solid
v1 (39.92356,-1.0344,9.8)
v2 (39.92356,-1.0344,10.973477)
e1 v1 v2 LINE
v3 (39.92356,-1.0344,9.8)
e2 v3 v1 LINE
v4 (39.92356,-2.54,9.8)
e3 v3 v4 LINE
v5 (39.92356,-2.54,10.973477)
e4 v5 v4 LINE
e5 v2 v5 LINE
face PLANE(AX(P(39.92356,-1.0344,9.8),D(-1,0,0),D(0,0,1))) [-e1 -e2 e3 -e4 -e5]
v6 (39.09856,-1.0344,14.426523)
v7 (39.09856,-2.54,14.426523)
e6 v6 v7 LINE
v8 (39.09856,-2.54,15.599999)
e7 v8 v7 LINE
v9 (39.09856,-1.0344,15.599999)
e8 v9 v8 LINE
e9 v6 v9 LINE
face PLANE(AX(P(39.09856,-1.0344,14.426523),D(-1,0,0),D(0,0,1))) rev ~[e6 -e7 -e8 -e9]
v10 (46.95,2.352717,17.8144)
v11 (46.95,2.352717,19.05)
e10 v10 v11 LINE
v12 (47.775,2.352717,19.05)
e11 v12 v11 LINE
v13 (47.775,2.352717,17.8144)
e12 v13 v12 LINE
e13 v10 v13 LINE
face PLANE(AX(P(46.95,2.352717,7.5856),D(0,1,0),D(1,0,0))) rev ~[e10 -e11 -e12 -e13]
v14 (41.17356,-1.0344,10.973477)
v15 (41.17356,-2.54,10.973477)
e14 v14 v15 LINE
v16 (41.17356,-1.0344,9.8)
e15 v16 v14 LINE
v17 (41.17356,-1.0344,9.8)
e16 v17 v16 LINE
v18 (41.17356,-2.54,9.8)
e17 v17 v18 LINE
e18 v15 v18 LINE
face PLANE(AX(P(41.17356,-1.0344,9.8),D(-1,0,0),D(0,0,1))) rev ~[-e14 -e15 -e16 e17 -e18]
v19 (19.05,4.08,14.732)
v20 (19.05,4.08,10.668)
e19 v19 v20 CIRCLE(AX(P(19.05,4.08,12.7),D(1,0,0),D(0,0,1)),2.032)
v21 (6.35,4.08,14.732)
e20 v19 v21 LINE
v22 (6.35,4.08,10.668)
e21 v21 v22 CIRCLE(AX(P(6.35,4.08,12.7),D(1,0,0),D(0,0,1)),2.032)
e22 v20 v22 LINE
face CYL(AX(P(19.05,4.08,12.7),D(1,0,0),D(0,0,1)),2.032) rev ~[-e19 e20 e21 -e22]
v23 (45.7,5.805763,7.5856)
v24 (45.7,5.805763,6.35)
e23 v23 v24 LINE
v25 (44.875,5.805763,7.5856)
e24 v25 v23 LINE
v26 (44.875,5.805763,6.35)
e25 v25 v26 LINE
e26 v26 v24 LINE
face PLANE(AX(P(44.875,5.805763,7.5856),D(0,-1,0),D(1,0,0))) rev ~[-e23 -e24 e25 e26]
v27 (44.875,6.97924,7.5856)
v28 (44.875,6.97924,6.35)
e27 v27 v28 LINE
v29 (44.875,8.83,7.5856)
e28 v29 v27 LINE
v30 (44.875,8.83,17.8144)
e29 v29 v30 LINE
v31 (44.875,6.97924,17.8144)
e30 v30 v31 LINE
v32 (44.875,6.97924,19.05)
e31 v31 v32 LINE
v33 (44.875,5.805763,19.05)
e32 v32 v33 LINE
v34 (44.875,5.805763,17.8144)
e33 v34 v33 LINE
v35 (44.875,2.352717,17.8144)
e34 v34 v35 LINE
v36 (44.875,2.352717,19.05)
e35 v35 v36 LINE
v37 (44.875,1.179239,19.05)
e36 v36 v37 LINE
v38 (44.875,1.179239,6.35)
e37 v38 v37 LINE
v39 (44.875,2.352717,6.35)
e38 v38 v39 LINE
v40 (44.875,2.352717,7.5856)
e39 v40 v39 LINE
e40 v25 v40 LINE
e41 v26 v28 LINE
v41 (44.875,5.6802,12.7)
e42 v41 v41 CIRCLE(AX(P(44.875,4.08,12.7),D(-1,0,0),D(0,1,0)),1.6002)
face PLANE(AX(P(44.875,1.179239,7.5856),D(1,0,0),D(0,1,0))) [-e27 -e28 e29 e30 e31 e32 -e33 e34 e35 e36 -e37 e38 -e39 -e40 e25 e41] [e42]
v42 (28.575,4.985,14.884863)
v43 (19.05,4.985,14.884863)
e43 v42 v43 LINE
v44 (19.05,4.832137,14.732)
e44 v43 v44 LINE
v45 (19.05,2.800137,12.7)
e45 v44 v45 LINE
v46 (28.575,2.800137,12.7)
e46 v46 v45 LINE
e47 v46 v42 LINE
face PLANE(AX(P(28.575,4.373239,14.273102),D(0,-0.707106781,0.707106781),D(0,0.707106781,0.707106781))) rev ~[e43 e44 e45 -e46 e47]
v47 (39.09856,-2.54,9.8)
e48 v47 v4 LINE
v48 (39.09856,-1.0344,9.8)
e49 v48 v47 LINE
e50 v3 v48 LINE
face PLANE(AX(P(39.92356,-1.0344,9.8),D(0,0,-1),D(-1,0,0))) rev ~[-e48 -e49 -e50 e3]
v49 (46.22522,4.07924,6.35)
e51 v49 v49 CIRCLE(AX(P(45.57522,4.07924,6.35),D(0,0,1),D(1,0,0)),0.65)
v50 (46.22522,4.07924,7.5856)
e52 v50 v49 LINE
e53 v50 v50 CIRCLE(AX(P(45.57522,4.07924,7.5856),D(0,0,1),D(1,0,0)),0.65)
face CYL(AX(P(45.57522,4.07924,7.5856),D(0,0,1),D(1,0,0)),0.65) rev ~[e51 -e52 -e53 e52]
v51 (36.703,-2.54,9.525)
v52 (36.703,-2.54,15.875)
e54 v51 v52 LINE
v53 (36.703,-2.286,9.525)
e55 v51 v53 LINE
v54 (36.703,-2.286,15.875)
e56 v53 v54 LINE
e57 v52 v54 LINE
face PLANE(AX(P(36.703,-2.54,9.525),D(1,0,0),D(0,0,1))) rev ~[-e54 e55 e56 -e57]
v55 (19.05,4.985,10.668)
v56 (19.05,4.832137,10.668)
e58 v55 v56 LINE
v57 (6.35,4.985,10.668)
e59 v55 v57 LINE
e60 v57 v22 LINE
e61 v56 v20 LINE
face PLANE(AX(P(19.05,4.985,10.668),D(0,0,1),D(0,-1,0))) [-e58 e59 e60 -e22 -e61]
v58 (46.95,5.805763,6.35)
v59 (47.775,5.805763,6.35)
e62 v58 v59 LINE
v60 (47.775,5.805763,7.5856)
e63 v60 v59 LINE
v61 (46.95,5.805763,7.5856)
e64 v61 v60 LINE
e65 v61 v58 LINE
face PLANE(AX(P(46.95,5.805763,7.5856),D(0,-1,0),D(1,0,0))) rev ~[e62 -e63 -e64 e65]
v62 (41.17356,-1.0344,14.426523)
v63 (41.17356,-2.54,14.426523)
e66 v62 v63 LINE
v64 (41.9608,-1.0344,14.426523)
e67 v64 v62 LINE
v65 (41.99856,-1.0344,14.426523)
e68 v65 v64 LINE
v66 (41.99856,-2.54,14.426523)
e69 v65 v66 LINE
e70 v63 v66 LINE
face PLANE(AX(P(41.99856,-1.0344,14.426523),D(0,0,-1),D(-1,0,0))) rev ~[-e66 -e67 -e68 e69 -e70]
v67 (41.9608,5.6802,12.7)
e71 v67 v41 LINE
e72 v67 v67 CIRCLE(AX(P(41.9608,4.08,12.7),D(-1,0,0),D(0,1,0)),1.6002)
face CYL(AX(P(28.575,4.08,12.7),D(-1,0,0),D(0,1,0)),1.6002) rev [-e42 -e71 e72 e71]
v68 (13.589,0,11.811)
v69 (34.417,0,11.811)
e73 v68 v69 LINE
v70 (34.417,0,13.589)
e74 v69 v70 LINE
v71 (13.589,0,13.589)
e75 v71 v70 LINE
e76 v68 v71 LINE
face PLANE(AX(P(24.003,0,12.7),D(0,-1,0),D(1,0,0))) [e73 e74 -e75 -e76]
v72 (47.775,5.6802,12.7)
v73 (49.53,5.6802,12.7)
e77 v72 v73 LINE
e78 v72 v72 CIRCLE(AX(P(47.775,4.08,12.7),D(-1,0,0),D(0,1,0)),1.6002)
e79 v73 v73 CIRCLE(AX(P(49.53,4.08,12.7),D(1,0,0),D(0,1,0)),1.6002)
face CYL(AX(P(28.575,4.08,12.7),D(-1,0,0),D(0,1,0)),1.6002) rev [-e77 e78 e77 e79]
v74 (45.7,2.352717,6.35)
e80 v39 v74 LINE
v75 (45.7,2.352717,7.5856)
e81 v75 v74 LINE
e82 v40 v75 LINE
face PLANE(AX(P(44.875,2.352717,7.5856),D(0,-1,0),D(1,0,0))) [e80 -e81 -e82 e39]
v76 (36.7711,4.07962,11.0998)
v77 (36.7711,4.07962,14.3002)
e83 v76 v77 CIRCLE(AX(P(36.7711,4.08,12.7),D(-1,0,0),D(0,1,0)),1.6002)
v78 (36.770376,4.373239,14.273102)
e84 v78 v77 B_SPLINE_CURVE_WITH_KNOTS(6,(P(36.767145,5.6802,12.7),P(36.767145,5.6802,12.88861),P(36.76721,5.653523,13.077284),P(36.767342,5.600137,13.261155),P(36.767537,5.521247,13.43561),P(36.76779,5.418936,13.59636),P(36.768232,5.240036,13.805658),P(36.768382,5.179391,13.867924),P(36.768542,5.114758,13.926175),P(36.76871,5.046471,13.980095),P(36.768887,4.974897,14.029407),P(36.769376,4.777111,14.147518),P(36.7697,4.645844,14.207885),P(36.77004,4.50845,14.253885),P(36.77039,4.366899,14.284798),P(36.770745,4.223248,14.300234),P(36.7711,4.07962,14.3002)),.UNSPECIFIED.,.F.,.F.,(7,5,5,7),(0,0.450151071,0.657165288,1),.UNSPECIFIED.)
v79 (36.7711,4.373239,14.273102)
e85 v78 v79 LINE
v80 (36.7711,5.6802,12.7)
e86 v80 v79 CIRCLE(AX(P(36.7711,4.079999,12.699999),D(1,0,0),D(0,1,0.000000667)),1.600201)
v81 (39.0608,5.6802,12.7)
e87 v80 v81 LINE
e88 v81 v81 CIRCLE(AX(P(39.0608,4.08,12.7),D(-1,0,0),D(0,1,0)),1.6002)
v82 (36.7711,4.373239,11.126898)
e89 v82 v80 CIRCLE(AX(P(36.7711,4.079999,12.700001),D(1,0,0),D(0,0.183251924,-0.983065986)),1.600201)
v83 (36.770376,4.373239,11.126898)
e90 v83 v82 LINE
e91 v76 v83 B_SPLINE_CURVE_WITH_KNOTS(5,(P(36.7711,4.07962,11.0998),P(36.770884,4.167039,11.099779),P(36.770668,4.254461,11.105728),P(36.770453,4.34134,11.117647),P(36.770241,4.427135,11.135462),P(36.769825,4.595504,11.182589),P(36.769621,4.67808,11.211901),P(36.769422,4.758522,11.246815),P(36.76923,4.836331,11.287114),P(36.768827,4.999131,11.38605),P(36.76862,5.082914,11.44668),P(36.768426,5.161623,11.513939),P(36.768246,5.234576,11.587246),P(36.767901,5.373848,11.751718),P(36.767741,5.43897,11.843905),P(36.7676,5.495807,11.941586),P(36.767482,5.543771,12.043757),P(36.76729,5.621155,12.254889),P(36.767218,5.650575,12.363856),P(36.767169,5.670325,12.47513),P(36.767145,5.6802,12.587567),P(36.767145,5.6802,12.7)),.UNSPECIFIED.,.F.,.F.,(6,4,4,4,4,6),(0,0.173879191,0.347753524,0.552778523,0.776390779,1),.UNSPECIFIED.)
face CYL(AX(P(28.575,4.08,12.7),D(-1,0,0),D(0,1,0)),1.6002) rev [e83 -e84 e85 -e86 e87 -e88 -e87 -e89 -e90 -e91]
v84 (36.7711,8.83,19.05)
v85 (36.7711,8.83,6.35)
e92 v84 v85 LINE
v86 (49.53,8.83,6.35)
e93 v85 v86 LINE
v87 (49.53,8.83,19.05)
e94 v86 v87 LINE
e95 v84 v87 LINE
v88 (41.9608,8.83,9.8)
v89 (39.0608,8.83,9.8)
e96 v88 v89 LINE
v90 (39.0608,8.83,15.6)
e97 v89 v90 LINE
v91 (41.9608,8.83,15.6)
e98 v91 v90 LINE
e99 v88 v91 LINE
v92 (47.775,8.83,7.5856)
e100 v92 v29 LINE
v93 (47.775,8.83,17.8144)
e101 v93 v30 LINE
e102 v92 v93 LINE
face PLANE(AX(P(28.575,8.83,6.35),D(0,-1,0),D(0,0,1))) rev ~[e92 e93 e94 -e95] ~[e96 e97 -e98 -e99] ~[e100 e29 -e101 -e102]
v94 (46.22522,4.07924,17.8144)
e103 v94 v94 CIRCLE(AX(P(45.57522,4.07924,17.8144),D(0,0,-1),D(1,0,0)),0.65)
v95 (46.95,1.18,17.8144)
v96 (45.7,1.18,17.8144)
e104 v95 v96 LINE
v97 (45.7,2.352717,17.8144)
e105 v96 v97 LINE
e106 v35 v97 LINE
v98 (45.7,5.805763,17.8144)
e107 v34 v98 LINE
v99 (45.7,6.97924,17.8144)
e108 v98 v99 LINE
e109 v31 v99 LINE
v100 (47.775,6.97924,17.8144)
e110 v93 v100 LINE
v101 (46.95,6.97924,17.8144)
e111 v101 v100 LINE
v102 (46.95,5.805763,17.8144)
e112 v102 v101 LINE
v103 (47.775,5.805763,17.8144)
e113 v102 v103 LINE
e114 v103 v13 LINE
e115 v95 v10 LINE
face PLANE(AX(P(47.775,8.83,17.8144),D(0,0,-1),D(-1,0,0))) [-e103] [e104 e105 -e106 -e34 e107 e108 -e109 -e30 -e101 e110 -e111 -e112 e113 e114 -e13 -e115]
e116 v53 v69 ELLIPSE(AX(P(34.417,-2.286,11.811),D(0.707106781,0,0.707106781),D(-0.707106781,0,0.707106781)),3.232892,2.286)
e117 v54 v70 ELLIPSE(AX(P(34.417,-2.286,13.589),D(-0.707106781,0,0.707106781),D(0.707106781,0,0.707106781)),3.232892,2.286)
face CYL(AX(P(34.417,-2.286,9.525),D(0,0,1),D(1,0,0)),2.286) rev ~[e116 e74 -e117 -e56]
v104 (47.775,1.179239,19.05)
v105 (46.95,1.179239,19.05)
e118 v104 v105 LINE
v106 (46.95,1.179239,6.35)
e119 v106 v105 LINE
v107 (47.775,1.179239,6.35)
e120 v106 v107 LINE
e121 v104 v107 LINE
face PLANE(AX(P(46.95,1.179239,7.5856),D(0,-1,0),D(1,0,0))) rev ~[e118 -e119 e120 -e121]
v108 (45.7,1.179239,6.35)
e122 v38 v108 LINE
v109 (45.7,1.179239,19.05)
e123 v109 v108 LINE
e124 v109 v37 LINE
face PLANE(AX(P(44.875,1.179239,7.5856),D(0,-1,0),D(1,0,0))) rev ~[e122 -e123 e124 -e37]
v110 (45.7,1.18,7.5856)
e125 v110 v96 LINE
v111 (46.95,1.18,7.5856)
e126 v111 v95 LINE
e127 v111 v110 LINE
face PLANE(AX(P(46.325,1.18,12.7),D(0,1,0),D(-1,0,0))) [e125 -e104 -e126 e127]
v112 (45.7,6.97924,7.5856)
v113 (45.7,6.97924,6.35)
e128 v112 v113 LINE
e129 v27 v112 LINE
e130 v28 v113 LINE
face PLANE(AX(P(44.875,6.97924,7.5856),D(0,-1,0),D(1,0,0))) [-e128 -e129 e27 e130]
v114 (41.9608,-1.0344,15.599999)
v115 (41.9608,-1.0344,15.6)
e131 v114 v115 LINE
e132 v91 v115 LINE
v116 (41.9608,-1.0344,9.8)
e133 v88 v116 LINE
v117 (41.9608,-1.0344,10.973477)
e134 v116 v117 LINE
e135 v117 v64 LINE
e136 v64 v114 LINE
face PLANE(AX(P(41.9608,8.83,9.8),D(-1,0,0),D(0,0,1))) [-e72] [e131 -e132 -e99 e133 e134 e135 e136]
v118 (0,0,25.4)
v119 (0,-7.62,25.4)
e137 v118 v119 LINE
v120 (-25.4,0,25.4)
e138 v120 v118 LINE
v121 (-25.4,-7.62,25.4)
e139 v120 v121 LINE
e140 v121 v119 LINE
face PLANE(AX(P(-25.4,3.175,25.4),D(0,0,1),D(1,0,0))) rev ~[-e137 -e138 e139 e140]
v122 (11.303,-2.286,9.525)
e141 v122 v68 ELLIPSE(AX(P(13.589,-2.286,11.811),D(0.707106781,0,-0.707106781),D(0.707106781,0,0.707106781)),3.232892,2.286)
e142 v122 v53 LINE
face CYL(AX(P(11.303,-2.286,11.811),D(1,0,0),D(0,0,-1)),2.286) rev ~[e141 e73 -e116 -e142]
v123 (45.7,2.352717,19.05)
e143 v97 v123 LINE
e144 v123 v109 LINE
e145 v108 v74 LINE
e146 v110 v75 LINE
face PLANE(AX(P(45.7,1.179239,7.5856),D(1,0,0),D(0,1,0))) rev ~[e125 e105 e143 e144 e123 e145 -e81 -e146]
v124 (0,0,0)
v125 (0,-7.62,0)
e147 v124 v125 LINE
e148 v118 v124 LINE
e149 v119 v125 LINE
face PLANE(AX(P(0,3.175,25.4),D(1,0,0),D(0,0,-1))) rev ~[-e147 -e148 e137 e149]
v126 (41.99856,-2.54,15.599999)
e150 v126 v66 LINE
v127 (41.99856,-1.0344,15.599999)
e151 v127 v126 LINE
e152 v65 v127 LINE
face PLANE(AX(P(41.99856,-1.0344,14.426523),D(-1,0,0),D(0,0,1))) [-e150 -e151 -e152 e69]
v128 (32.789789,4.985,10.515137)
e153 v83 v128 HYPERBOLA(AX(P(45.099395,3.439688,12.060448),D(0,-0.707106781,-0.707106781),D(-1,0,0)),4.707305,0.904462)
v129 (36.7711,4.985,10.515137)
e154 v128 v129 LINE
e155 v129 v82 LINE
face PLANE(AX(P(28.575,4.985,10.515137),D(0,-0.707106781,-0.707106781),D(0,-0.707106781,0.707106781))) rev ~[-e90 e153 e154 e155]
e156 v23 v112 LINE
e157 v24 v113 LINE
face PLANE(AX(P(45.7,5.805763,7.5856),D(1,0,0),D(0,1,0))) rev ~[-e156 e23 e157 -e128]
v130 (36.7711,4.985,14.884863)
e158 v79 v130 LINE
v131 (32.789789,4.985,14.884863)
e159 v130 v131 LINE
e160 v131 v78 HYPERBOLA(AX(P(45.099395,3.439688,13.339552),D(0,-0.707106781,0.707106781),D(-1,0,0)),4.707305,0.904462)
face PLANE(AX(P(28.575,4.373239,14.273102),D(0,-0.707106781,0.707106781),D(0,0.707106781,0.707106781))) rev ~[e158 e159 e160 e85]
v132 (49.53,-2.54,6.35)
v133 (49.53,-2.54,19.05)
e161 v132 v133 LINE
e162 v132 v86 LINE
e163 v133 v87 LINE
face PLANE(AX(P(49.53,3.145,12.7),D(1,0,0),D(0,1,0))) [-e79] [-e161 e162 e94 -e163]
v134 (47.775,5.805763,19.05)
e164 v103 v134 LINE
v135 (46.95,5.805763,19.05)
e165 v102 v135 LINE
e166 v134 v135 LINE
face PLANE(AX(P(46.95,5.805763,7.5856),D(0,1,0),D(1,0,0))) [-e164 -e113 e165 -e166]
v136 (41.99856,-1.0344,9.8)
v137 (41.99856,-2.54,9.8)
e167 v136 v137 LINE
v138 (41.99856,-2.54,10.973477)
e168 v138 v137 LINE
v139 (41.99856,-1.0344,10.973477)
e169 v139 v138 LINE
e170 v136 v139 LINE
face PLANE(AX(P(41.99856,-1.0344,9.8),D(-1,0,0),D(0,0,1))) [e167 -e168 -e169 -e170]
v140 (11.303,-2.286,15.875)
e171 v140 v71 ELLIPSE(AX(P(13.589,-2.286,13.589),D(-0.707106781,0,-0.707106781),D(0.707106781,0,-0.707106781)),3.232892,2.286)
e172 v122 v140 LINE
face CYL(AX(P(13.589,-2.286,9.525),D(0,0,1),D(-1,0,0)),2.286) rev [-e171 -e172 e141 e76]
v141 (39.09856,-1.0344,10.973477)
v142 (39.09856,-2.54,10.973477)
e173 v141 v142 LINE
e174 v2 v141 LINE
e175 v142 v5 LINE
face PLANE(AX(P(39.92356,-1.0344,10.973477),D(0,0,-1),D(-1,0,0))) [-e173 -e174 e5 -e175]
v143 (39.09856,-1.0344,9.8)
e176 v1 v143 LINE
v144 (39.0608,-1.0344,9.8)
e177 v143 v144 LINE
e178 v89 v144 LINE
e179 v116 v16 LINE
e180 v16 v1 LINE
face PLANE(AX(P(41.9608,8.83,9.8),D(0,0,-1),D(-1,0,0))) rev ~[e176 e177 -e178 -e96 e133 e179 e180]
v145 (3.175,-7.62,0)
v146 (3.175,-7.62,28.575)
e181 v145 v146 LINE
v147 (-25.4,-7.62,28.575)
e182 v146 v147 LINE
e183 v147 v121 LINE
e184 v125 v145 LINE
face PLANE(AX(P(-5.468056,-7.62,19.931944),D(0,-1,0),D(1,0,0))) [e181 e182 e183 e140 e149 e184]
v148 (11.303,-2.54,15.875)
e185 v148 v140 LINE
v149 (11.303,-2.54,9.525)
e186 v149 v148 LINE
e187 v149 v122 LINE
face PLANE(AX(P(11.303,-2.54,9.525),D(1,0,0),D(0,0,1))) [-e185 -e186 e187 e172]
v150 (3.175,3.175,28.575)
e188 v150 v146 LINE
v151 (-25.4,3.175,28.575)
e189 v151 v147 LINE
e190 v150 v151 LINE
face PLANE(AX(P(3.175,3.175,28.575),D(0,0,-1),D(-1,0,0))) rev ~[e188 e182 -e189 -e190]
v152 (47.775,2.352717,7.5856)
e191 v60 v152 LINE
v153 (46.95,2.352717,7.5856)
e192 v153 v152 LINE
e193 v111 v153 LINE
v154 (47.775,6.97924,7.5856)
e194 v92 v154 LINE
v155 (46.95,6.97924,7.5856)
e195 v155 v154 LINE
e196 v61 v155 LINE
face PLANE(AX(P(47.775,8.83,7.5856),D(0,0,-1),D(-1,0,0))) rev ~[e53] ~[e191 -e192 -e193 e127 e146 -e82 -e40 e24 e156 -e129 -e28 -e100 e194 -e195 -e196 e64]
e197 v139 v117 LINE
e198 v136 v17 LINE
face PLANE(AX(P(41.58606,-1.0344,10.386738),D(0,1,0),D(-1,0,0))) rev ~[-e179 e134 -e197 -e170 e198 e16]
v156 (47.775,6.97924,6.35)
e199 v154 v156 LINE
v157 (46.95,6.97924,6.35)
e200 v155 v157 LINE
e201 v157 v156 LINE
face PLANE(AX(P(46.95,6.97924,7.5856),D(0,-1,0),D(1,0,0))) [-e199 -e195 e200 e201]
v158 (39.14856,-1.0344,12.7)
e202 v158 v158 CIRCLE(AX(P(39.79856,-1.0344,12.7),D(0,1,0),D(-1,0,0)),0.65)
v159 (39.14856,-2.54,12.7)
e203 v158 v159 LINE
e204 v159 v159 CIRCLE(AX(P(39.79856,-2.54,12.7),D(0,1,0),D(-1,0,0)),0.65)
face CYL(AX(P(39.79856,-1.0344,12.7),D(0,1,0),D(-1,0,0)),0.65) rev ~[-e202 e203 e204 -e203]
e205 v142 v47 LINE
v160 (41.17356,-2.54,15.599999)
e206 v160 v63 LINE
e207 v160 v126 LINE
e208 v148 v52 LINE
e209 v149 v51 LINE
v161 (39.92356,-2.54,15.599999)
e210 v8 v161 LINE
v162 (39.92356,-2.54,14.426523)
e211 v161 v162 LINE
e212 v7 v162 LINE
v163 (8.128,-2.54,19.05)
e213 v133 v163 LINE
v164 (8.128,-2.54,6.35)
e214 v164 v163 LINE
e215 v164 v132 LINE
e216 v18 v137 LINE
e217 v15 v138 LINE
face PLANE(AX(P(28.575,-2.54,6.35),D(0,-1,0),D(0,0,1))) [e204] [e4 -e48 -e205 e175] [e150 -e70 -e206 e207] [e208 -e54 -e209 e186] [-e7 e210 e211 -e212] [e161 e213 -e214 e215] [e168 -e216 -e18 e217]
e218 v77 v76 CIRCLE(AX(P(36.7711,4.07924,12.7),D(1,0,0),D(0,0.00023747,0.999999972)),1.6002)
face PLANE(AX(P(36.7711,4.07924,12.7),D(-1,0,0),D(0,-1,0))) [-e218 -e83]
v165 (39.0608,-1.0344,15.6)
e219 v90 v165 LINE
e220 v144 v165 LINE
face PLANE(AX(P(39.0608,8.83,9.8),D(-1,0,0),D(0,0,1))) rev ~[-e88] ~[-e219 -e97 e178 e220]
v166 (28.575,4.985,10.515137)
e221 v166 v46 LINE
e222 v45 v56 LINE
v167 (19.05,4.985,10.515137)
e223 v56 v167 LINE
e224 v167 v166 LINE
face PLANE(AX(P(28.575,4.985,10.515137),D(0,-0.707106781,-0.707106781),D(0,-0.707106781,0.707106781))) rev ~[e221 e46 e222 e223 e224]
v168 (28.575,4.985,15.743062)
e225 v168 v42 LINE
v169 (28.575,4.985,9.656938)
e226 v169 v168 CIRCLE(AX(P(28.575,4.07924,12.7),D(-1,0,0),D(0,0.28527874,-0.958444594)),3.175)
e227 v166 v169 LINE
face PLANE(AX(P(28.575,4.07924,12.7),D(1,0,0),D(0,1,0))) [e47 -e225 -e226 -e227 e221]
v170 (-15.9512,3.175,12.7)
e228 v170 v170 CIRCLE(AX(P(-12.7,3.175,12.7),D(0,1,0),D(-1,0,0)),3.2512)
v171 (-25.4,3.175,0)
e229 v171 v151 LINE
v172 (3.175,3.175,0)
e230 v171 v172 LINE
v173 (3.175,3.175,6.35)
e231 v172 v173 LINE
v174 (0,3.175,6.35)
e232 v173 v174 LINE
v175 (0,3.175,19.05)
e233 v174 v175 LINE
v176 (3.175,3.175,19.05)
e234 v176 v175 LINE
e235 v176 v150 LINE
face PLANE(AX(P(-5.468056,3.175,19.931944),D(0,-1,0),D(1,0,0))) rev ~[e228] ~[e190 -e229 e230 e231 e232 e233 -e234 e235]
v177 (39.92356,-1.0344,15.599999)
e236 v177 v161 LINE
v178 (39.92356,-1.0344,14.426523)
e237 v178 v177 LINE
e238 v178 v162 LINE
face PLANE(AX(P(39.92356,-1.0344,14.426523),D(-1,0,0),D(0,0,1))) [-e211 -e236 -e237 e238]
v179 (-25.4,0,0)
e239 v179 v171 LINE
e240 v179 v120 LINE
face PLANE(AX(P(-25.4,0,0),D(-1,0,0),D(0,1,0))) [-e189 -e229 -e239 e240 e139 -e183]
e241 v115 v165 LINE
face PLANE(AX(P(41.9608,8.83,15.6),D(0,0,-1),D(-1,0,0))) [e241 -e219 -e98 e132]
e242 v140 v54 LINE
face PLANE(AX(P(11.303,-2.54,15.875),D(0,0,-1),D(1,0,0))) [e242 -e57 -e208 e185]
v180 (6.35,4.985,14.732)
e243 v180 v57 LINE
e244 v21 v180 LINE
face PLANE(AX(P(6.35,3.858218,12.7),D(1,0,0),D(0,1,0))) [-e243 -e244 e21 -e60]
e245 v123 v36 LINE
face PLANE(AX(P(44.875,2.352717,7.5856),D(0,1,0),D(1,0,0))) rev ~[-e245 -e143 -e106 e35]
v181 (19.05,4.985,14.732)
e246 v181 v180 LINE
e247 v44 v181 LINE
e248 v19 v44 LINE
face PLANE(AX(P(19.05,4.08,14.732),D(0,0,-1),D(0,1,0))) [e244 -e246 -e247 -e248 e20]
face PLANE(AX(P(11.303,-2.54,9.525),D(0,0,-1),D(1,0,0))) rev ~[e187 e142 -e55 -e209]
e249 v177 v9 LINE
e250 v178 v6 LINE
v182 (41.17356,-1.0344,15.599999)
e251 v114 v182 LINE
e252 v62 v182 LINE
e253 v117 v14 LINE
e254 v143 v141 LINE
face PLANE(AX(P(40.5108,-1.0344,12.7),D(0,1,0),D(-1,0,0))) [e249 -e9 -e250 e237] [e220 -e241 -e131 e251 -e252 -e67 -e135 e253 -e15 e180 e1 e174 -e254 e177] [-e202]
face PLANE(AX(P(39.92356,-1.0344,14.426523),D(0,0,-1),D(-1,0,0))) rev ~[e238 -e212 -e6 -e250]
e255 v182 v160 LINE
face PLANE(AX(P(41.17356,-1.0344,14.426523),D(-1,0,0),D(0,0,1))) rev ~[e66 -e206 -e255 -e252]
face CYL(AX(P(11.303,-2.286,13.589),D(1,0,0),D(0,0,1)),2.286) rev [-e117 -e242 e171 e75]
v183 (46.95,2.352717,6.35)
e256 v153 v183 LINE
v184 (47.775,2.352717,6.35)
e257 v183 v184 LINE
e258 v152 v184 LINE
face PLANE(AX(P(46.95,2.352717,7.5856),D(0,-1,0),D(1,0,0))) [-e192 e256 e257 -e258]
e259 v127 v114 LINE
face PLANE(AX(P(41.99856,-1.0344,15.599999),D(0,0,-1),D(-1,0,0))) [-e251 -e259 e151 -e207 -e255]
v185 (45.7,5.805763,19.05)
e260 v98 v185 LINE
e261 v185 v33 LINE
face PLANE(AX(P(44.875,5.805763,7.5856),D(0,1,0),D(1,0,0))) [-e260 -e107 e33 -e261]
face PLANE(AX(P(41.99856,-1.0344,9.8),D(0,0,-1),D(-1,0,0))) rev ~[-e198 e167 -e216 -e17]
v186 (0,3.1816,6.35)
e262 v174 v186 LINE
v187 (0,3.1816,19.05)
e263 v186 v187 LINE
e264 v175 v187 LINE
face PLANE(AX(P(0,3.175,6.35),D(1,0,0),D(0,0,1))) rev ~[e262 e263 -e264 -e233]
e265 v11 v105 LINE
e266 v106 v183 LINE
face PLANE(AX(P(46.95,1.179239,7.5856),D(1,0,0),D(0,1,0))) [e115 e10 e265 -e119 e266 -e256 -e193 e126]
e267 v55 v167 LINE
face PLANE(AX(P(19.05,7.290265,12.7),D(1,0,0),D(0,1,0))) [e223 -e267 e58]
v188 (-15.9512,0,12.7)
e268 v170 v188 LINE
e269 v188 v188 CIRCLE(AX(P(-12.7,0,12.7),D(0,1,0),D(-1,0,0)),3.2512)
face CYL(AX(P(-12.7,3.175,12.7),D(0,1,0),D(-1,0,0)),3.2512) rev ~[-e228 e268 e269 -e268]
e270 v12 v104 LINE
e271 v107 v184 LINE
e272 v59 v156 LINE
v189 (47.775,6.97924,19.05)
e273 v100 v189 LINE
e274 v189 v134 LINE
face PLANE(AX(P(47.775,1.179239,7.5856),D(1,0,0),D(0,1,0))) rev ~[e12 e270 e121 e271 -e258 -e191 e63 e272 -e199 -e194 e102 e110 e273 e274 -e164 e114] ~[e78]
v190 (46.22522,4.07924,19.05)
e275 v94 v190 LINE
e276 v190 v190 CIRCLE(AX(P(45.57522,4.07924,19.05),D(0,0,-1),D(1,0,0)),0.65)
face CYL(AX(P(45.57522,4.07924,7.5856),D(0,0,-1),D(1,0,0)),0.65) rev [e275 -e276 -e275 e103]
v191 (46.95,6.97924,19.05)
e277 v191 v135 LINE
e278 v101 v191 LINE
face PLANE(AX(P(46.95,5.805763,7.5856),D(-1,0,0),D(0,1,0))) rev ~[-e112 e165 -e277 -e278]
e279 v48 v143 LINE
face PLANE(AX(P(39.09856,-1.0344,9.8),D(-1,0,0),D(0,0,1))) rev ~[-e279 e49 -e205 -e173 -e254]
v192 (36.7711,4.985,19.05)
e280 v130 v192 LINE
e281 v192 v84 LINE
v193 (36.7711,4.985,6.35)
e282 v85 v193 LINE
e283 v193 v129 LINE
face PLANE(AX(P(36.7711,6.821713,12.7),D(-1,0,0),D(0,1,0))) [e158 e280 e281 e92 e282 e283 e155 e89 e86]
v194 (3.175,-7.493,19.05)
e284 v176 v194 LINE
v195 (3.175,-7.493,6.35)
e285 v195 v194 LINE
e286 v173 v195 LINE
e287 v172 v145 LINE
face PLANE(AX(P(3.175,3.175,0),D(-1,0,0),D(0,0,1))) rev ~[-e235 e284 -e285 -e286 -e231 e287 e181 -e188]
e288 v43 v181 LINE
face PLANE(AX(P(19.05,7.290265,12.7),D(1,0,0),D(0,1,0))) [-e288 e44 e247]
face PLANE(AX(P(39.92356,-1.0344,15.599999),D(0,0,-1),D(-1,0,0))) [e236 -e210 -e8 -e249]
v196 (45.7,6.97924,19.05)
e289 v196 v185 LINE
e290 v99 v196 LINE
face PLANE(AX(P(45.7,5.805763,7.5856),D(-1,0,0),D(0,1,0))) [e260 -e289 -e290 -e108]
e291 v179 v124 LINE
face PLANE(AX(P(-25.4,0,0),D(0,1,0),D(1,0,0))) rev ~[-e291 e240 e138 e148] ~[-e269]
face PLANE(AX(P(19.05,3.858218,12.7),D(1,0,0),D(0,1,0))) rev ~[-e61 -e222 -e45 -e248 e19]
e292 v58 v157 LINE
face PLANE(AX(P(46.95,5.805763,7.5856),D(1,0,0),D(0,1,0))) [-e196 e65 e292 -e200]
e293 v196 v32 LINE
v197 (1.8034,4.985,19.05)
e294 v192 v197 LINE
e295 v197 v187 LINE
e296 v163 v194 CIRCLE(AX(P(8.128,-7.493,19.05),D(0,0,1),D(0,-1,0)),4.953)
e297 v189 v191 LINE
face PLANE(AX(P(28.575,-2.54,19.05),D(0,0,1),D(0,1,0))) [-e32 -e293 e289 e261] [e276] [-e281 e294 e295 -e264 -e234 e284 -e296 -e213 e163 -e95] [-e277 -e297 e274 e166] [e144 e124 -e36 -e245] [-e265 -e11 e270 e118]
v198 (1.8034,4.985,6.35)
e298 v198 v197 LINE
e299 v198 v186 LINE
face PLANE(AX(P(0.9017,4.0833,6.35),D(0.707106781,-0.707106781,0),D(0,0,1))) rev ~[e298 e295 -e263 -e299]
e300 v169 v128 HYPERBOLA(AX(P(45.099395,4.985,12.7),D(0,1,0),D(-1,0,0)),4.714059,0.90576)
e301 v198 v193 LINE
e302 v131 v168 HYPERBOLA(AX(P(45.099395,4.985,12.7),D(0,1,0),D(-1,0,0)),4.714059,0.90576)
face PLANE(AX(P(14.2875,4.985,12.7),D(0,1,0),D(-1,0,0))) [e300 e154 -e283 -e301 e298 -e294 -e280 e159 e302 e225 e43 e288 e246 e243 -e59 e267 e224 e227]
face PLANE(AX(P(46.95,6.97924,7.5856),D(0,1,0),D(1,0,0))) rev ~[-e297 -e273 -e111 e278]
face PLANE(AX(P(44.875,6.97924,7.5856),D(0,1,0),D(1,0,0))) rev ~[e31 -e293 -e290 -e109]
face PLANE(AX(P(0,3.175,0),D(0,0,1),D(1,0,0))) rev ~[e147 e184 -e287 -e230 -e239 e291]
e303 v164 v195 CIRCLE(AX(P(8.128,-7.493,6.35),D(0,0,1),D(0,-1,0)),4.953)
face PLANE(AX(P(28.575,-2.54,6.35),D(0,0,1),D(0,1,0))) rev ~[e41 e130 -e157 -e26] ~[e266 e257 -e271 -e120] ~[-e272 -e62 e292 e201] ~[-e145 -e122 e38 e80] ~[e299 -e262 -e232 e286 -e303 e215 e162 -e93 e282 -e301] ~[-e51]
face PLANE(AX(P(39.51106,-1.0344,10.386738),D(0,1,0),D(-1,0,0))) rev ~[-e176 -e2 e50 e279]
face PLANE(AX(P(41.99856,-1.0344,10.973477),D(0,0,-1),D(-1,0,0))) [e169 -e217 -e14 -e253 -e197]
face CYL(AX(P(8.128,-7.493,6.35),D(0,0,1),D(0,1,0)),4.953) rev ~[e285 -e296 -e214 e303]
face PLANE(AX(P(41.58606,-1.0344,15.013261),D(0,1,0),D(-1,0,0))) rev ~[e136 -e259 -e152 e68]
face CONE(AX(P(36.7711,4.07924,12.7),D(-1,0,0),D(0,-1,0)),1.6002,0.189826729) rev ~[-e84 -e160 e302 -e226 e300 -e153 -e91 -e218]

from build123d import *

# Parameters (mm, degrees)
SKETCH_W             = 25.4
SKETCH_H             = 3.175
PAD_DEPTH            = 25.4
SKETCH001_W          = 28.575
SKETCH001_H          = 12.7
PAD001_DEPTH         = 1.81
PAD001_DEPTH_BACK    = 5.715
POCKET_DEPTH         = 9.525
POCKET001_DEPTH      = 12.7
CHAMFER_SIZE         = 1.8034
SKETCH004_R          = 3.2512
POCKET002_DEPTH      = 5.716
PAD002_DEPTH         = 10.795
FILLET_R             = 4.953
SKETCH013_W          = 11.37
SKETCH013_H          = 12.7
SKETCH013_R          = 1.6002
PAD008_DEPTH         = 20.955
POCKET003_DEPTH      = 8.1961
SKETCH014_W          = 2.9
SKETCH014_H          = 10.2288
POCKET004_DEPTH      = 7.65
SKETCH015_W          = 2.9
SKETCH015_H          = 5.8
POCKET005_DEPTH      = 9.8644
SKETCH016_R          = 0.65
SKETCH016_W          = 0.825
SKETCH016_H          = 1.173477
POCKET006_DEPTH      = 6.5866
SKETCH017_R          = 0.65
SKETCH017_W          = 0.825
SKETCH017_H          = 1.173477
POCKET007_DEPTH      = 7.5866
POCKET007_DEPTH_BACK = 20.9904
SKETCH018_R          = 1.6002
SKETCH019_R          = 3.175
SKETCH020_W          = 25.4
SKETCH020_H          = 6.35
POCKET008_DEPTH      = 2.54
FILLET001_R          = 2.286


with BuildPart() as part:
    # Sketch → Pad (new body)
    with BuildSketch(Plane.XY):
        with Locations((-12.7, 1.5875)):
            Rectangle(SKETCH_W, SKETCH_H)
    extrude(amount=PAD_DEPTH)

    # Sketch001 (on Face1 of Pad) → Pad001 (join, two sides)
    with BuildSketch(Plane(origin=(0, 3.175, 0), x_dir=(-1, 0, 0), z_dir=(0, 1, 0))) as pad001_sk:
        with Locations((-14.2875, 12.7)):
            Rectangle(SKETCH001_W, SKETCH001_H)
    extrude(amount=PAD001_DEPTH)
    extrude(pad001_sk.sketch, amount=-PAD001_DEPTH_BACK)

    # Sketch002 (on Face13 of Pad001) → Pocket (cut)
    with BuildSketch(Plane.YZ.offset(28.575)):
        Polygon((9.150137, 19.05), (2.800137, 12.7), (9.150137, 6.35), align=None)
    extrude(amount=-POCKET_DEPTH, mode=Mode.SUBTRACT)

    # Sketch003 (on Face16 of Pocket) → Pocket001 (cut)
    with BuildSketch(Plane.YZ.offset(19.05)):
        with BuildLine():
            ThreePointArc((4.08, 14.732), (2.048, 12.7), (4.08, 10.668))
            Line((4.985, 10.668), (4.08, 10.668))
            Line((4.985, 14.732), (4.985, 10.668))
            Line((4.08, 14.732), (4.985, 14.732))
        make_face()
    extrude(amount=-POCKET001_DEPTH, mode=Mode.SUBTRACT)

    # Chamfer
    chamfer_edges = [part.edges().sort_by_distance(p)[0] for p in [
        (0, 4.985, 12.7),
    ]]
    chamfer(chamfer_edges, length=CHAMFER_SIZE)

    # Sketch004 (on Face4 of Chamfer) → Pocket002 (cut, through all)
    with BuildSketch(Plane(origin=(0, 3.175, 0), x_dir=(-1, 0, 0), z_dir=(0, 1, 0))):
        with Locations((12.7, 12.7)):
            Circle(SKETCH004_R)
    extrude(amount=-POCKET002_DEPTH, mode=Mode.SUBTRACT)

    # Sketch006 (on Face4 of Pocket002) → Pad002 (join)
    with BuildSketch(Plane(origin=(0, 3.175, 0), x_dir=(-1, 0, 0), z_dir=(0, 1, 0))):
        Polygon((0, 0), (-3.175, 0), (-3.175, 28.575), (25.4, 28.575), (25.4, 25.4), (0, 25.4), align=None)
    extrude(amount=-PAD002_DEPTH)

    # Fillet
    fillet_edges = [part.edges().sort_by_distance(p)[0] for p in [
        (3.175, -2.54, 12.7),
    ]]
    fillet(fillet_edges, radius=FILLET_R)

    # Sketch013 (on Face4 of Fillet) → Pad008 (join)
    with BuildSketch(Plane.YZ.offset(28.575)):
        with Locations((3.145, 12.7)):
            Rectangle(SKETCH013_W, SKETCH013_H)
        with Locations((4.08, 12.7)):
            Circle(SKETCH013_R, mode=Mode.SUBTRACT)
    extrude(amount=PAD008_DEPTH)

    # Pad008 Face13 → Pocket003 (cut)
    with BuildSketch(Plane(origin=(28.575, 6.929443, 12.7), x_dir=(0, 1, 0), z_dir=(-1, 0, 0))):
        with BuildLine():
            Line((-1.944443, -2.184863), (-1.944443, -6.35))
            Line((-1.944443, -6.35), (1.900557, -6.35))
            Line((1.900557, -6.35), (1.900557, 6.35))
            Line((1.900557, 6.35), (-1.944443, 6.35))
            Line((-1.944443, 6.35), (-1.944443, 2.184863))
            Line((-1.944443, 2.184863), (-2.556204, 1.573102))
            ThreePointArc((-2.556204, 1.573102), (-1.618614, 1.022594), (-1.249243, 0))
            ThreePointArc((-1.249243, 0), (-1.618614, -1.022594), (-2.556204, -1.573102))
            Line((-2.556204, -1.573102), (-1.944443, -2.184863))
        make_face()
    extrude(amount=-POCKET003_DEPTH, mode=Mode.SUBTRACT)

    # Sketch014 (on Face15 of Pocket003) → Pocket004 (cut)
    with BuildSketch(Plane(origin=(0, 8.83, 0), x_dir=(-1, 0, 0), z_dir=(0, 1, 0))):
        with Locations((-46.325, 12.7)):
            Rectangle(SKETCH014_W, SKETCH014_H)
    extrude(amount=-POCKET004_DEPTH, mode=Mode.SUBTRACT)

    # Sketch015 (on Face15 of Pocket004) → Pocket005 (cut)
    with BuildSketch(Plane(origin=(0, 8.83, 0), x_dir=(-1, 0, 0), z_dir=(0, 1, 0))):
        with Locations((-40.5108, 12.7)):
            Rectangle(SKETCH015_W, SKETCH015_H)
    extrude(amount=-POCKET005_DEPTH, mode=Mode.SUBTRACT)

    # Sketch016 (on Face53 of Pocket005) → Pocket006 (cut, through all)
    with BuildSketch(Plane(origin=(0, -1.0344, 0), x_dir=(-1, 0, 0), z_dir=(0, 1, 0))):
        with Locations((-39.79856, 12.7)):
            Circle(SKETCH016_R)
        with Locations((-41.58606, 15.013261)):
            Rectangle(SKETCH016_W, SKETCH016_H)
        with Locations((-41.58606, 10.386738)):
            Rectangle(SKETCH016_W, SKETCH016_H)
        with Locations((-39.51106, 15.013261)):
            Rectangle(SKETCH016_W, SKETCH016_H)
        with Locations((-39.51106, 10.386738)):
            Rectangle(SKETCH016_W, SKETCH016_H)
    extrude(amount=-POCKET006_DEPTH, mode=Mode.SUBTRACT)

    # Sketch017 (on Face52 of Pocket006) → Pocket007 (cut, two sides)
    with BuildSketch(Plane.XY.offset(7.5856)) as pocket007_sk:
        with Locations((45.57522, 4.07924)):
            Circle(SKETCH017_R)
        with Locations((45.2875, 6.392501)):
            Rectangle(SKETCH017_W, SKETCH017_H)
        with Locations((45.2875, 1.765978)):
            Rectangle(SKETCH017_W, SKETCH017_H)
        with Locations((47.3625, 6.392501)):
            Rectangle(SKETCH017_W, SKETCH017_H)
        with Locations((47.3625, 1.765978)):
            Rectangle(SKETCH017_W, SKETCH017_H)
    extrude(amount=-POCKET007_DEPTH, mode=Mode.SUBTRACT)
    extrude(pocket007_sk.sketch, amount=POCKET007_DEPTH_BACK, mode=Mode.SUBTRACT)

    # Sketch018 (on Face12 of Pocket007) → SubtractiveLoft section 0
    with BuildSketch(Plane(origin=(36.7711, 0, 0), x_dir=(0, -1, 0), z_dir=(-1, 0, 0))):
        with Locations((-4.07924, 12.7)):
            Circle(SKETCH018_R)
    # Sketch019 (on Face87 of Pocket007) → SubtractiveLoft section 1
    with BuildSketch(Plane.YZ.offset(28.575)):
        with Locations((4.07924, 12.7)):
            Circle(SKETCH019_R)
    loft(mode=Mode.SUBTRACT)

    # Sketch020 (on Face2 of SubtractiveLoft) → Pocket008 (cut)
    with BuildSketch(Plane.XZ.offset(2.54)):
        with Locations((24.003, 12.7)):
            Rectangle(SKETCH020_W, SKETCH020_H)
    extrude(amount=-POCKET008_DEPTH, mode=Mode.SUBTRACT)

    # Fillet001
    fillet001_edges = [part.edges().sort_by_distance(p)[0] for p in [
        (24.003, 0, 15.875),
        (36.703, 0, 12.7),
        (24.003, 0, 9.525),
        (11.303, 0, 12.7),
    ]]
    fillet(fillet001_edges, radius=FILLET001_R)


solid = part.part
